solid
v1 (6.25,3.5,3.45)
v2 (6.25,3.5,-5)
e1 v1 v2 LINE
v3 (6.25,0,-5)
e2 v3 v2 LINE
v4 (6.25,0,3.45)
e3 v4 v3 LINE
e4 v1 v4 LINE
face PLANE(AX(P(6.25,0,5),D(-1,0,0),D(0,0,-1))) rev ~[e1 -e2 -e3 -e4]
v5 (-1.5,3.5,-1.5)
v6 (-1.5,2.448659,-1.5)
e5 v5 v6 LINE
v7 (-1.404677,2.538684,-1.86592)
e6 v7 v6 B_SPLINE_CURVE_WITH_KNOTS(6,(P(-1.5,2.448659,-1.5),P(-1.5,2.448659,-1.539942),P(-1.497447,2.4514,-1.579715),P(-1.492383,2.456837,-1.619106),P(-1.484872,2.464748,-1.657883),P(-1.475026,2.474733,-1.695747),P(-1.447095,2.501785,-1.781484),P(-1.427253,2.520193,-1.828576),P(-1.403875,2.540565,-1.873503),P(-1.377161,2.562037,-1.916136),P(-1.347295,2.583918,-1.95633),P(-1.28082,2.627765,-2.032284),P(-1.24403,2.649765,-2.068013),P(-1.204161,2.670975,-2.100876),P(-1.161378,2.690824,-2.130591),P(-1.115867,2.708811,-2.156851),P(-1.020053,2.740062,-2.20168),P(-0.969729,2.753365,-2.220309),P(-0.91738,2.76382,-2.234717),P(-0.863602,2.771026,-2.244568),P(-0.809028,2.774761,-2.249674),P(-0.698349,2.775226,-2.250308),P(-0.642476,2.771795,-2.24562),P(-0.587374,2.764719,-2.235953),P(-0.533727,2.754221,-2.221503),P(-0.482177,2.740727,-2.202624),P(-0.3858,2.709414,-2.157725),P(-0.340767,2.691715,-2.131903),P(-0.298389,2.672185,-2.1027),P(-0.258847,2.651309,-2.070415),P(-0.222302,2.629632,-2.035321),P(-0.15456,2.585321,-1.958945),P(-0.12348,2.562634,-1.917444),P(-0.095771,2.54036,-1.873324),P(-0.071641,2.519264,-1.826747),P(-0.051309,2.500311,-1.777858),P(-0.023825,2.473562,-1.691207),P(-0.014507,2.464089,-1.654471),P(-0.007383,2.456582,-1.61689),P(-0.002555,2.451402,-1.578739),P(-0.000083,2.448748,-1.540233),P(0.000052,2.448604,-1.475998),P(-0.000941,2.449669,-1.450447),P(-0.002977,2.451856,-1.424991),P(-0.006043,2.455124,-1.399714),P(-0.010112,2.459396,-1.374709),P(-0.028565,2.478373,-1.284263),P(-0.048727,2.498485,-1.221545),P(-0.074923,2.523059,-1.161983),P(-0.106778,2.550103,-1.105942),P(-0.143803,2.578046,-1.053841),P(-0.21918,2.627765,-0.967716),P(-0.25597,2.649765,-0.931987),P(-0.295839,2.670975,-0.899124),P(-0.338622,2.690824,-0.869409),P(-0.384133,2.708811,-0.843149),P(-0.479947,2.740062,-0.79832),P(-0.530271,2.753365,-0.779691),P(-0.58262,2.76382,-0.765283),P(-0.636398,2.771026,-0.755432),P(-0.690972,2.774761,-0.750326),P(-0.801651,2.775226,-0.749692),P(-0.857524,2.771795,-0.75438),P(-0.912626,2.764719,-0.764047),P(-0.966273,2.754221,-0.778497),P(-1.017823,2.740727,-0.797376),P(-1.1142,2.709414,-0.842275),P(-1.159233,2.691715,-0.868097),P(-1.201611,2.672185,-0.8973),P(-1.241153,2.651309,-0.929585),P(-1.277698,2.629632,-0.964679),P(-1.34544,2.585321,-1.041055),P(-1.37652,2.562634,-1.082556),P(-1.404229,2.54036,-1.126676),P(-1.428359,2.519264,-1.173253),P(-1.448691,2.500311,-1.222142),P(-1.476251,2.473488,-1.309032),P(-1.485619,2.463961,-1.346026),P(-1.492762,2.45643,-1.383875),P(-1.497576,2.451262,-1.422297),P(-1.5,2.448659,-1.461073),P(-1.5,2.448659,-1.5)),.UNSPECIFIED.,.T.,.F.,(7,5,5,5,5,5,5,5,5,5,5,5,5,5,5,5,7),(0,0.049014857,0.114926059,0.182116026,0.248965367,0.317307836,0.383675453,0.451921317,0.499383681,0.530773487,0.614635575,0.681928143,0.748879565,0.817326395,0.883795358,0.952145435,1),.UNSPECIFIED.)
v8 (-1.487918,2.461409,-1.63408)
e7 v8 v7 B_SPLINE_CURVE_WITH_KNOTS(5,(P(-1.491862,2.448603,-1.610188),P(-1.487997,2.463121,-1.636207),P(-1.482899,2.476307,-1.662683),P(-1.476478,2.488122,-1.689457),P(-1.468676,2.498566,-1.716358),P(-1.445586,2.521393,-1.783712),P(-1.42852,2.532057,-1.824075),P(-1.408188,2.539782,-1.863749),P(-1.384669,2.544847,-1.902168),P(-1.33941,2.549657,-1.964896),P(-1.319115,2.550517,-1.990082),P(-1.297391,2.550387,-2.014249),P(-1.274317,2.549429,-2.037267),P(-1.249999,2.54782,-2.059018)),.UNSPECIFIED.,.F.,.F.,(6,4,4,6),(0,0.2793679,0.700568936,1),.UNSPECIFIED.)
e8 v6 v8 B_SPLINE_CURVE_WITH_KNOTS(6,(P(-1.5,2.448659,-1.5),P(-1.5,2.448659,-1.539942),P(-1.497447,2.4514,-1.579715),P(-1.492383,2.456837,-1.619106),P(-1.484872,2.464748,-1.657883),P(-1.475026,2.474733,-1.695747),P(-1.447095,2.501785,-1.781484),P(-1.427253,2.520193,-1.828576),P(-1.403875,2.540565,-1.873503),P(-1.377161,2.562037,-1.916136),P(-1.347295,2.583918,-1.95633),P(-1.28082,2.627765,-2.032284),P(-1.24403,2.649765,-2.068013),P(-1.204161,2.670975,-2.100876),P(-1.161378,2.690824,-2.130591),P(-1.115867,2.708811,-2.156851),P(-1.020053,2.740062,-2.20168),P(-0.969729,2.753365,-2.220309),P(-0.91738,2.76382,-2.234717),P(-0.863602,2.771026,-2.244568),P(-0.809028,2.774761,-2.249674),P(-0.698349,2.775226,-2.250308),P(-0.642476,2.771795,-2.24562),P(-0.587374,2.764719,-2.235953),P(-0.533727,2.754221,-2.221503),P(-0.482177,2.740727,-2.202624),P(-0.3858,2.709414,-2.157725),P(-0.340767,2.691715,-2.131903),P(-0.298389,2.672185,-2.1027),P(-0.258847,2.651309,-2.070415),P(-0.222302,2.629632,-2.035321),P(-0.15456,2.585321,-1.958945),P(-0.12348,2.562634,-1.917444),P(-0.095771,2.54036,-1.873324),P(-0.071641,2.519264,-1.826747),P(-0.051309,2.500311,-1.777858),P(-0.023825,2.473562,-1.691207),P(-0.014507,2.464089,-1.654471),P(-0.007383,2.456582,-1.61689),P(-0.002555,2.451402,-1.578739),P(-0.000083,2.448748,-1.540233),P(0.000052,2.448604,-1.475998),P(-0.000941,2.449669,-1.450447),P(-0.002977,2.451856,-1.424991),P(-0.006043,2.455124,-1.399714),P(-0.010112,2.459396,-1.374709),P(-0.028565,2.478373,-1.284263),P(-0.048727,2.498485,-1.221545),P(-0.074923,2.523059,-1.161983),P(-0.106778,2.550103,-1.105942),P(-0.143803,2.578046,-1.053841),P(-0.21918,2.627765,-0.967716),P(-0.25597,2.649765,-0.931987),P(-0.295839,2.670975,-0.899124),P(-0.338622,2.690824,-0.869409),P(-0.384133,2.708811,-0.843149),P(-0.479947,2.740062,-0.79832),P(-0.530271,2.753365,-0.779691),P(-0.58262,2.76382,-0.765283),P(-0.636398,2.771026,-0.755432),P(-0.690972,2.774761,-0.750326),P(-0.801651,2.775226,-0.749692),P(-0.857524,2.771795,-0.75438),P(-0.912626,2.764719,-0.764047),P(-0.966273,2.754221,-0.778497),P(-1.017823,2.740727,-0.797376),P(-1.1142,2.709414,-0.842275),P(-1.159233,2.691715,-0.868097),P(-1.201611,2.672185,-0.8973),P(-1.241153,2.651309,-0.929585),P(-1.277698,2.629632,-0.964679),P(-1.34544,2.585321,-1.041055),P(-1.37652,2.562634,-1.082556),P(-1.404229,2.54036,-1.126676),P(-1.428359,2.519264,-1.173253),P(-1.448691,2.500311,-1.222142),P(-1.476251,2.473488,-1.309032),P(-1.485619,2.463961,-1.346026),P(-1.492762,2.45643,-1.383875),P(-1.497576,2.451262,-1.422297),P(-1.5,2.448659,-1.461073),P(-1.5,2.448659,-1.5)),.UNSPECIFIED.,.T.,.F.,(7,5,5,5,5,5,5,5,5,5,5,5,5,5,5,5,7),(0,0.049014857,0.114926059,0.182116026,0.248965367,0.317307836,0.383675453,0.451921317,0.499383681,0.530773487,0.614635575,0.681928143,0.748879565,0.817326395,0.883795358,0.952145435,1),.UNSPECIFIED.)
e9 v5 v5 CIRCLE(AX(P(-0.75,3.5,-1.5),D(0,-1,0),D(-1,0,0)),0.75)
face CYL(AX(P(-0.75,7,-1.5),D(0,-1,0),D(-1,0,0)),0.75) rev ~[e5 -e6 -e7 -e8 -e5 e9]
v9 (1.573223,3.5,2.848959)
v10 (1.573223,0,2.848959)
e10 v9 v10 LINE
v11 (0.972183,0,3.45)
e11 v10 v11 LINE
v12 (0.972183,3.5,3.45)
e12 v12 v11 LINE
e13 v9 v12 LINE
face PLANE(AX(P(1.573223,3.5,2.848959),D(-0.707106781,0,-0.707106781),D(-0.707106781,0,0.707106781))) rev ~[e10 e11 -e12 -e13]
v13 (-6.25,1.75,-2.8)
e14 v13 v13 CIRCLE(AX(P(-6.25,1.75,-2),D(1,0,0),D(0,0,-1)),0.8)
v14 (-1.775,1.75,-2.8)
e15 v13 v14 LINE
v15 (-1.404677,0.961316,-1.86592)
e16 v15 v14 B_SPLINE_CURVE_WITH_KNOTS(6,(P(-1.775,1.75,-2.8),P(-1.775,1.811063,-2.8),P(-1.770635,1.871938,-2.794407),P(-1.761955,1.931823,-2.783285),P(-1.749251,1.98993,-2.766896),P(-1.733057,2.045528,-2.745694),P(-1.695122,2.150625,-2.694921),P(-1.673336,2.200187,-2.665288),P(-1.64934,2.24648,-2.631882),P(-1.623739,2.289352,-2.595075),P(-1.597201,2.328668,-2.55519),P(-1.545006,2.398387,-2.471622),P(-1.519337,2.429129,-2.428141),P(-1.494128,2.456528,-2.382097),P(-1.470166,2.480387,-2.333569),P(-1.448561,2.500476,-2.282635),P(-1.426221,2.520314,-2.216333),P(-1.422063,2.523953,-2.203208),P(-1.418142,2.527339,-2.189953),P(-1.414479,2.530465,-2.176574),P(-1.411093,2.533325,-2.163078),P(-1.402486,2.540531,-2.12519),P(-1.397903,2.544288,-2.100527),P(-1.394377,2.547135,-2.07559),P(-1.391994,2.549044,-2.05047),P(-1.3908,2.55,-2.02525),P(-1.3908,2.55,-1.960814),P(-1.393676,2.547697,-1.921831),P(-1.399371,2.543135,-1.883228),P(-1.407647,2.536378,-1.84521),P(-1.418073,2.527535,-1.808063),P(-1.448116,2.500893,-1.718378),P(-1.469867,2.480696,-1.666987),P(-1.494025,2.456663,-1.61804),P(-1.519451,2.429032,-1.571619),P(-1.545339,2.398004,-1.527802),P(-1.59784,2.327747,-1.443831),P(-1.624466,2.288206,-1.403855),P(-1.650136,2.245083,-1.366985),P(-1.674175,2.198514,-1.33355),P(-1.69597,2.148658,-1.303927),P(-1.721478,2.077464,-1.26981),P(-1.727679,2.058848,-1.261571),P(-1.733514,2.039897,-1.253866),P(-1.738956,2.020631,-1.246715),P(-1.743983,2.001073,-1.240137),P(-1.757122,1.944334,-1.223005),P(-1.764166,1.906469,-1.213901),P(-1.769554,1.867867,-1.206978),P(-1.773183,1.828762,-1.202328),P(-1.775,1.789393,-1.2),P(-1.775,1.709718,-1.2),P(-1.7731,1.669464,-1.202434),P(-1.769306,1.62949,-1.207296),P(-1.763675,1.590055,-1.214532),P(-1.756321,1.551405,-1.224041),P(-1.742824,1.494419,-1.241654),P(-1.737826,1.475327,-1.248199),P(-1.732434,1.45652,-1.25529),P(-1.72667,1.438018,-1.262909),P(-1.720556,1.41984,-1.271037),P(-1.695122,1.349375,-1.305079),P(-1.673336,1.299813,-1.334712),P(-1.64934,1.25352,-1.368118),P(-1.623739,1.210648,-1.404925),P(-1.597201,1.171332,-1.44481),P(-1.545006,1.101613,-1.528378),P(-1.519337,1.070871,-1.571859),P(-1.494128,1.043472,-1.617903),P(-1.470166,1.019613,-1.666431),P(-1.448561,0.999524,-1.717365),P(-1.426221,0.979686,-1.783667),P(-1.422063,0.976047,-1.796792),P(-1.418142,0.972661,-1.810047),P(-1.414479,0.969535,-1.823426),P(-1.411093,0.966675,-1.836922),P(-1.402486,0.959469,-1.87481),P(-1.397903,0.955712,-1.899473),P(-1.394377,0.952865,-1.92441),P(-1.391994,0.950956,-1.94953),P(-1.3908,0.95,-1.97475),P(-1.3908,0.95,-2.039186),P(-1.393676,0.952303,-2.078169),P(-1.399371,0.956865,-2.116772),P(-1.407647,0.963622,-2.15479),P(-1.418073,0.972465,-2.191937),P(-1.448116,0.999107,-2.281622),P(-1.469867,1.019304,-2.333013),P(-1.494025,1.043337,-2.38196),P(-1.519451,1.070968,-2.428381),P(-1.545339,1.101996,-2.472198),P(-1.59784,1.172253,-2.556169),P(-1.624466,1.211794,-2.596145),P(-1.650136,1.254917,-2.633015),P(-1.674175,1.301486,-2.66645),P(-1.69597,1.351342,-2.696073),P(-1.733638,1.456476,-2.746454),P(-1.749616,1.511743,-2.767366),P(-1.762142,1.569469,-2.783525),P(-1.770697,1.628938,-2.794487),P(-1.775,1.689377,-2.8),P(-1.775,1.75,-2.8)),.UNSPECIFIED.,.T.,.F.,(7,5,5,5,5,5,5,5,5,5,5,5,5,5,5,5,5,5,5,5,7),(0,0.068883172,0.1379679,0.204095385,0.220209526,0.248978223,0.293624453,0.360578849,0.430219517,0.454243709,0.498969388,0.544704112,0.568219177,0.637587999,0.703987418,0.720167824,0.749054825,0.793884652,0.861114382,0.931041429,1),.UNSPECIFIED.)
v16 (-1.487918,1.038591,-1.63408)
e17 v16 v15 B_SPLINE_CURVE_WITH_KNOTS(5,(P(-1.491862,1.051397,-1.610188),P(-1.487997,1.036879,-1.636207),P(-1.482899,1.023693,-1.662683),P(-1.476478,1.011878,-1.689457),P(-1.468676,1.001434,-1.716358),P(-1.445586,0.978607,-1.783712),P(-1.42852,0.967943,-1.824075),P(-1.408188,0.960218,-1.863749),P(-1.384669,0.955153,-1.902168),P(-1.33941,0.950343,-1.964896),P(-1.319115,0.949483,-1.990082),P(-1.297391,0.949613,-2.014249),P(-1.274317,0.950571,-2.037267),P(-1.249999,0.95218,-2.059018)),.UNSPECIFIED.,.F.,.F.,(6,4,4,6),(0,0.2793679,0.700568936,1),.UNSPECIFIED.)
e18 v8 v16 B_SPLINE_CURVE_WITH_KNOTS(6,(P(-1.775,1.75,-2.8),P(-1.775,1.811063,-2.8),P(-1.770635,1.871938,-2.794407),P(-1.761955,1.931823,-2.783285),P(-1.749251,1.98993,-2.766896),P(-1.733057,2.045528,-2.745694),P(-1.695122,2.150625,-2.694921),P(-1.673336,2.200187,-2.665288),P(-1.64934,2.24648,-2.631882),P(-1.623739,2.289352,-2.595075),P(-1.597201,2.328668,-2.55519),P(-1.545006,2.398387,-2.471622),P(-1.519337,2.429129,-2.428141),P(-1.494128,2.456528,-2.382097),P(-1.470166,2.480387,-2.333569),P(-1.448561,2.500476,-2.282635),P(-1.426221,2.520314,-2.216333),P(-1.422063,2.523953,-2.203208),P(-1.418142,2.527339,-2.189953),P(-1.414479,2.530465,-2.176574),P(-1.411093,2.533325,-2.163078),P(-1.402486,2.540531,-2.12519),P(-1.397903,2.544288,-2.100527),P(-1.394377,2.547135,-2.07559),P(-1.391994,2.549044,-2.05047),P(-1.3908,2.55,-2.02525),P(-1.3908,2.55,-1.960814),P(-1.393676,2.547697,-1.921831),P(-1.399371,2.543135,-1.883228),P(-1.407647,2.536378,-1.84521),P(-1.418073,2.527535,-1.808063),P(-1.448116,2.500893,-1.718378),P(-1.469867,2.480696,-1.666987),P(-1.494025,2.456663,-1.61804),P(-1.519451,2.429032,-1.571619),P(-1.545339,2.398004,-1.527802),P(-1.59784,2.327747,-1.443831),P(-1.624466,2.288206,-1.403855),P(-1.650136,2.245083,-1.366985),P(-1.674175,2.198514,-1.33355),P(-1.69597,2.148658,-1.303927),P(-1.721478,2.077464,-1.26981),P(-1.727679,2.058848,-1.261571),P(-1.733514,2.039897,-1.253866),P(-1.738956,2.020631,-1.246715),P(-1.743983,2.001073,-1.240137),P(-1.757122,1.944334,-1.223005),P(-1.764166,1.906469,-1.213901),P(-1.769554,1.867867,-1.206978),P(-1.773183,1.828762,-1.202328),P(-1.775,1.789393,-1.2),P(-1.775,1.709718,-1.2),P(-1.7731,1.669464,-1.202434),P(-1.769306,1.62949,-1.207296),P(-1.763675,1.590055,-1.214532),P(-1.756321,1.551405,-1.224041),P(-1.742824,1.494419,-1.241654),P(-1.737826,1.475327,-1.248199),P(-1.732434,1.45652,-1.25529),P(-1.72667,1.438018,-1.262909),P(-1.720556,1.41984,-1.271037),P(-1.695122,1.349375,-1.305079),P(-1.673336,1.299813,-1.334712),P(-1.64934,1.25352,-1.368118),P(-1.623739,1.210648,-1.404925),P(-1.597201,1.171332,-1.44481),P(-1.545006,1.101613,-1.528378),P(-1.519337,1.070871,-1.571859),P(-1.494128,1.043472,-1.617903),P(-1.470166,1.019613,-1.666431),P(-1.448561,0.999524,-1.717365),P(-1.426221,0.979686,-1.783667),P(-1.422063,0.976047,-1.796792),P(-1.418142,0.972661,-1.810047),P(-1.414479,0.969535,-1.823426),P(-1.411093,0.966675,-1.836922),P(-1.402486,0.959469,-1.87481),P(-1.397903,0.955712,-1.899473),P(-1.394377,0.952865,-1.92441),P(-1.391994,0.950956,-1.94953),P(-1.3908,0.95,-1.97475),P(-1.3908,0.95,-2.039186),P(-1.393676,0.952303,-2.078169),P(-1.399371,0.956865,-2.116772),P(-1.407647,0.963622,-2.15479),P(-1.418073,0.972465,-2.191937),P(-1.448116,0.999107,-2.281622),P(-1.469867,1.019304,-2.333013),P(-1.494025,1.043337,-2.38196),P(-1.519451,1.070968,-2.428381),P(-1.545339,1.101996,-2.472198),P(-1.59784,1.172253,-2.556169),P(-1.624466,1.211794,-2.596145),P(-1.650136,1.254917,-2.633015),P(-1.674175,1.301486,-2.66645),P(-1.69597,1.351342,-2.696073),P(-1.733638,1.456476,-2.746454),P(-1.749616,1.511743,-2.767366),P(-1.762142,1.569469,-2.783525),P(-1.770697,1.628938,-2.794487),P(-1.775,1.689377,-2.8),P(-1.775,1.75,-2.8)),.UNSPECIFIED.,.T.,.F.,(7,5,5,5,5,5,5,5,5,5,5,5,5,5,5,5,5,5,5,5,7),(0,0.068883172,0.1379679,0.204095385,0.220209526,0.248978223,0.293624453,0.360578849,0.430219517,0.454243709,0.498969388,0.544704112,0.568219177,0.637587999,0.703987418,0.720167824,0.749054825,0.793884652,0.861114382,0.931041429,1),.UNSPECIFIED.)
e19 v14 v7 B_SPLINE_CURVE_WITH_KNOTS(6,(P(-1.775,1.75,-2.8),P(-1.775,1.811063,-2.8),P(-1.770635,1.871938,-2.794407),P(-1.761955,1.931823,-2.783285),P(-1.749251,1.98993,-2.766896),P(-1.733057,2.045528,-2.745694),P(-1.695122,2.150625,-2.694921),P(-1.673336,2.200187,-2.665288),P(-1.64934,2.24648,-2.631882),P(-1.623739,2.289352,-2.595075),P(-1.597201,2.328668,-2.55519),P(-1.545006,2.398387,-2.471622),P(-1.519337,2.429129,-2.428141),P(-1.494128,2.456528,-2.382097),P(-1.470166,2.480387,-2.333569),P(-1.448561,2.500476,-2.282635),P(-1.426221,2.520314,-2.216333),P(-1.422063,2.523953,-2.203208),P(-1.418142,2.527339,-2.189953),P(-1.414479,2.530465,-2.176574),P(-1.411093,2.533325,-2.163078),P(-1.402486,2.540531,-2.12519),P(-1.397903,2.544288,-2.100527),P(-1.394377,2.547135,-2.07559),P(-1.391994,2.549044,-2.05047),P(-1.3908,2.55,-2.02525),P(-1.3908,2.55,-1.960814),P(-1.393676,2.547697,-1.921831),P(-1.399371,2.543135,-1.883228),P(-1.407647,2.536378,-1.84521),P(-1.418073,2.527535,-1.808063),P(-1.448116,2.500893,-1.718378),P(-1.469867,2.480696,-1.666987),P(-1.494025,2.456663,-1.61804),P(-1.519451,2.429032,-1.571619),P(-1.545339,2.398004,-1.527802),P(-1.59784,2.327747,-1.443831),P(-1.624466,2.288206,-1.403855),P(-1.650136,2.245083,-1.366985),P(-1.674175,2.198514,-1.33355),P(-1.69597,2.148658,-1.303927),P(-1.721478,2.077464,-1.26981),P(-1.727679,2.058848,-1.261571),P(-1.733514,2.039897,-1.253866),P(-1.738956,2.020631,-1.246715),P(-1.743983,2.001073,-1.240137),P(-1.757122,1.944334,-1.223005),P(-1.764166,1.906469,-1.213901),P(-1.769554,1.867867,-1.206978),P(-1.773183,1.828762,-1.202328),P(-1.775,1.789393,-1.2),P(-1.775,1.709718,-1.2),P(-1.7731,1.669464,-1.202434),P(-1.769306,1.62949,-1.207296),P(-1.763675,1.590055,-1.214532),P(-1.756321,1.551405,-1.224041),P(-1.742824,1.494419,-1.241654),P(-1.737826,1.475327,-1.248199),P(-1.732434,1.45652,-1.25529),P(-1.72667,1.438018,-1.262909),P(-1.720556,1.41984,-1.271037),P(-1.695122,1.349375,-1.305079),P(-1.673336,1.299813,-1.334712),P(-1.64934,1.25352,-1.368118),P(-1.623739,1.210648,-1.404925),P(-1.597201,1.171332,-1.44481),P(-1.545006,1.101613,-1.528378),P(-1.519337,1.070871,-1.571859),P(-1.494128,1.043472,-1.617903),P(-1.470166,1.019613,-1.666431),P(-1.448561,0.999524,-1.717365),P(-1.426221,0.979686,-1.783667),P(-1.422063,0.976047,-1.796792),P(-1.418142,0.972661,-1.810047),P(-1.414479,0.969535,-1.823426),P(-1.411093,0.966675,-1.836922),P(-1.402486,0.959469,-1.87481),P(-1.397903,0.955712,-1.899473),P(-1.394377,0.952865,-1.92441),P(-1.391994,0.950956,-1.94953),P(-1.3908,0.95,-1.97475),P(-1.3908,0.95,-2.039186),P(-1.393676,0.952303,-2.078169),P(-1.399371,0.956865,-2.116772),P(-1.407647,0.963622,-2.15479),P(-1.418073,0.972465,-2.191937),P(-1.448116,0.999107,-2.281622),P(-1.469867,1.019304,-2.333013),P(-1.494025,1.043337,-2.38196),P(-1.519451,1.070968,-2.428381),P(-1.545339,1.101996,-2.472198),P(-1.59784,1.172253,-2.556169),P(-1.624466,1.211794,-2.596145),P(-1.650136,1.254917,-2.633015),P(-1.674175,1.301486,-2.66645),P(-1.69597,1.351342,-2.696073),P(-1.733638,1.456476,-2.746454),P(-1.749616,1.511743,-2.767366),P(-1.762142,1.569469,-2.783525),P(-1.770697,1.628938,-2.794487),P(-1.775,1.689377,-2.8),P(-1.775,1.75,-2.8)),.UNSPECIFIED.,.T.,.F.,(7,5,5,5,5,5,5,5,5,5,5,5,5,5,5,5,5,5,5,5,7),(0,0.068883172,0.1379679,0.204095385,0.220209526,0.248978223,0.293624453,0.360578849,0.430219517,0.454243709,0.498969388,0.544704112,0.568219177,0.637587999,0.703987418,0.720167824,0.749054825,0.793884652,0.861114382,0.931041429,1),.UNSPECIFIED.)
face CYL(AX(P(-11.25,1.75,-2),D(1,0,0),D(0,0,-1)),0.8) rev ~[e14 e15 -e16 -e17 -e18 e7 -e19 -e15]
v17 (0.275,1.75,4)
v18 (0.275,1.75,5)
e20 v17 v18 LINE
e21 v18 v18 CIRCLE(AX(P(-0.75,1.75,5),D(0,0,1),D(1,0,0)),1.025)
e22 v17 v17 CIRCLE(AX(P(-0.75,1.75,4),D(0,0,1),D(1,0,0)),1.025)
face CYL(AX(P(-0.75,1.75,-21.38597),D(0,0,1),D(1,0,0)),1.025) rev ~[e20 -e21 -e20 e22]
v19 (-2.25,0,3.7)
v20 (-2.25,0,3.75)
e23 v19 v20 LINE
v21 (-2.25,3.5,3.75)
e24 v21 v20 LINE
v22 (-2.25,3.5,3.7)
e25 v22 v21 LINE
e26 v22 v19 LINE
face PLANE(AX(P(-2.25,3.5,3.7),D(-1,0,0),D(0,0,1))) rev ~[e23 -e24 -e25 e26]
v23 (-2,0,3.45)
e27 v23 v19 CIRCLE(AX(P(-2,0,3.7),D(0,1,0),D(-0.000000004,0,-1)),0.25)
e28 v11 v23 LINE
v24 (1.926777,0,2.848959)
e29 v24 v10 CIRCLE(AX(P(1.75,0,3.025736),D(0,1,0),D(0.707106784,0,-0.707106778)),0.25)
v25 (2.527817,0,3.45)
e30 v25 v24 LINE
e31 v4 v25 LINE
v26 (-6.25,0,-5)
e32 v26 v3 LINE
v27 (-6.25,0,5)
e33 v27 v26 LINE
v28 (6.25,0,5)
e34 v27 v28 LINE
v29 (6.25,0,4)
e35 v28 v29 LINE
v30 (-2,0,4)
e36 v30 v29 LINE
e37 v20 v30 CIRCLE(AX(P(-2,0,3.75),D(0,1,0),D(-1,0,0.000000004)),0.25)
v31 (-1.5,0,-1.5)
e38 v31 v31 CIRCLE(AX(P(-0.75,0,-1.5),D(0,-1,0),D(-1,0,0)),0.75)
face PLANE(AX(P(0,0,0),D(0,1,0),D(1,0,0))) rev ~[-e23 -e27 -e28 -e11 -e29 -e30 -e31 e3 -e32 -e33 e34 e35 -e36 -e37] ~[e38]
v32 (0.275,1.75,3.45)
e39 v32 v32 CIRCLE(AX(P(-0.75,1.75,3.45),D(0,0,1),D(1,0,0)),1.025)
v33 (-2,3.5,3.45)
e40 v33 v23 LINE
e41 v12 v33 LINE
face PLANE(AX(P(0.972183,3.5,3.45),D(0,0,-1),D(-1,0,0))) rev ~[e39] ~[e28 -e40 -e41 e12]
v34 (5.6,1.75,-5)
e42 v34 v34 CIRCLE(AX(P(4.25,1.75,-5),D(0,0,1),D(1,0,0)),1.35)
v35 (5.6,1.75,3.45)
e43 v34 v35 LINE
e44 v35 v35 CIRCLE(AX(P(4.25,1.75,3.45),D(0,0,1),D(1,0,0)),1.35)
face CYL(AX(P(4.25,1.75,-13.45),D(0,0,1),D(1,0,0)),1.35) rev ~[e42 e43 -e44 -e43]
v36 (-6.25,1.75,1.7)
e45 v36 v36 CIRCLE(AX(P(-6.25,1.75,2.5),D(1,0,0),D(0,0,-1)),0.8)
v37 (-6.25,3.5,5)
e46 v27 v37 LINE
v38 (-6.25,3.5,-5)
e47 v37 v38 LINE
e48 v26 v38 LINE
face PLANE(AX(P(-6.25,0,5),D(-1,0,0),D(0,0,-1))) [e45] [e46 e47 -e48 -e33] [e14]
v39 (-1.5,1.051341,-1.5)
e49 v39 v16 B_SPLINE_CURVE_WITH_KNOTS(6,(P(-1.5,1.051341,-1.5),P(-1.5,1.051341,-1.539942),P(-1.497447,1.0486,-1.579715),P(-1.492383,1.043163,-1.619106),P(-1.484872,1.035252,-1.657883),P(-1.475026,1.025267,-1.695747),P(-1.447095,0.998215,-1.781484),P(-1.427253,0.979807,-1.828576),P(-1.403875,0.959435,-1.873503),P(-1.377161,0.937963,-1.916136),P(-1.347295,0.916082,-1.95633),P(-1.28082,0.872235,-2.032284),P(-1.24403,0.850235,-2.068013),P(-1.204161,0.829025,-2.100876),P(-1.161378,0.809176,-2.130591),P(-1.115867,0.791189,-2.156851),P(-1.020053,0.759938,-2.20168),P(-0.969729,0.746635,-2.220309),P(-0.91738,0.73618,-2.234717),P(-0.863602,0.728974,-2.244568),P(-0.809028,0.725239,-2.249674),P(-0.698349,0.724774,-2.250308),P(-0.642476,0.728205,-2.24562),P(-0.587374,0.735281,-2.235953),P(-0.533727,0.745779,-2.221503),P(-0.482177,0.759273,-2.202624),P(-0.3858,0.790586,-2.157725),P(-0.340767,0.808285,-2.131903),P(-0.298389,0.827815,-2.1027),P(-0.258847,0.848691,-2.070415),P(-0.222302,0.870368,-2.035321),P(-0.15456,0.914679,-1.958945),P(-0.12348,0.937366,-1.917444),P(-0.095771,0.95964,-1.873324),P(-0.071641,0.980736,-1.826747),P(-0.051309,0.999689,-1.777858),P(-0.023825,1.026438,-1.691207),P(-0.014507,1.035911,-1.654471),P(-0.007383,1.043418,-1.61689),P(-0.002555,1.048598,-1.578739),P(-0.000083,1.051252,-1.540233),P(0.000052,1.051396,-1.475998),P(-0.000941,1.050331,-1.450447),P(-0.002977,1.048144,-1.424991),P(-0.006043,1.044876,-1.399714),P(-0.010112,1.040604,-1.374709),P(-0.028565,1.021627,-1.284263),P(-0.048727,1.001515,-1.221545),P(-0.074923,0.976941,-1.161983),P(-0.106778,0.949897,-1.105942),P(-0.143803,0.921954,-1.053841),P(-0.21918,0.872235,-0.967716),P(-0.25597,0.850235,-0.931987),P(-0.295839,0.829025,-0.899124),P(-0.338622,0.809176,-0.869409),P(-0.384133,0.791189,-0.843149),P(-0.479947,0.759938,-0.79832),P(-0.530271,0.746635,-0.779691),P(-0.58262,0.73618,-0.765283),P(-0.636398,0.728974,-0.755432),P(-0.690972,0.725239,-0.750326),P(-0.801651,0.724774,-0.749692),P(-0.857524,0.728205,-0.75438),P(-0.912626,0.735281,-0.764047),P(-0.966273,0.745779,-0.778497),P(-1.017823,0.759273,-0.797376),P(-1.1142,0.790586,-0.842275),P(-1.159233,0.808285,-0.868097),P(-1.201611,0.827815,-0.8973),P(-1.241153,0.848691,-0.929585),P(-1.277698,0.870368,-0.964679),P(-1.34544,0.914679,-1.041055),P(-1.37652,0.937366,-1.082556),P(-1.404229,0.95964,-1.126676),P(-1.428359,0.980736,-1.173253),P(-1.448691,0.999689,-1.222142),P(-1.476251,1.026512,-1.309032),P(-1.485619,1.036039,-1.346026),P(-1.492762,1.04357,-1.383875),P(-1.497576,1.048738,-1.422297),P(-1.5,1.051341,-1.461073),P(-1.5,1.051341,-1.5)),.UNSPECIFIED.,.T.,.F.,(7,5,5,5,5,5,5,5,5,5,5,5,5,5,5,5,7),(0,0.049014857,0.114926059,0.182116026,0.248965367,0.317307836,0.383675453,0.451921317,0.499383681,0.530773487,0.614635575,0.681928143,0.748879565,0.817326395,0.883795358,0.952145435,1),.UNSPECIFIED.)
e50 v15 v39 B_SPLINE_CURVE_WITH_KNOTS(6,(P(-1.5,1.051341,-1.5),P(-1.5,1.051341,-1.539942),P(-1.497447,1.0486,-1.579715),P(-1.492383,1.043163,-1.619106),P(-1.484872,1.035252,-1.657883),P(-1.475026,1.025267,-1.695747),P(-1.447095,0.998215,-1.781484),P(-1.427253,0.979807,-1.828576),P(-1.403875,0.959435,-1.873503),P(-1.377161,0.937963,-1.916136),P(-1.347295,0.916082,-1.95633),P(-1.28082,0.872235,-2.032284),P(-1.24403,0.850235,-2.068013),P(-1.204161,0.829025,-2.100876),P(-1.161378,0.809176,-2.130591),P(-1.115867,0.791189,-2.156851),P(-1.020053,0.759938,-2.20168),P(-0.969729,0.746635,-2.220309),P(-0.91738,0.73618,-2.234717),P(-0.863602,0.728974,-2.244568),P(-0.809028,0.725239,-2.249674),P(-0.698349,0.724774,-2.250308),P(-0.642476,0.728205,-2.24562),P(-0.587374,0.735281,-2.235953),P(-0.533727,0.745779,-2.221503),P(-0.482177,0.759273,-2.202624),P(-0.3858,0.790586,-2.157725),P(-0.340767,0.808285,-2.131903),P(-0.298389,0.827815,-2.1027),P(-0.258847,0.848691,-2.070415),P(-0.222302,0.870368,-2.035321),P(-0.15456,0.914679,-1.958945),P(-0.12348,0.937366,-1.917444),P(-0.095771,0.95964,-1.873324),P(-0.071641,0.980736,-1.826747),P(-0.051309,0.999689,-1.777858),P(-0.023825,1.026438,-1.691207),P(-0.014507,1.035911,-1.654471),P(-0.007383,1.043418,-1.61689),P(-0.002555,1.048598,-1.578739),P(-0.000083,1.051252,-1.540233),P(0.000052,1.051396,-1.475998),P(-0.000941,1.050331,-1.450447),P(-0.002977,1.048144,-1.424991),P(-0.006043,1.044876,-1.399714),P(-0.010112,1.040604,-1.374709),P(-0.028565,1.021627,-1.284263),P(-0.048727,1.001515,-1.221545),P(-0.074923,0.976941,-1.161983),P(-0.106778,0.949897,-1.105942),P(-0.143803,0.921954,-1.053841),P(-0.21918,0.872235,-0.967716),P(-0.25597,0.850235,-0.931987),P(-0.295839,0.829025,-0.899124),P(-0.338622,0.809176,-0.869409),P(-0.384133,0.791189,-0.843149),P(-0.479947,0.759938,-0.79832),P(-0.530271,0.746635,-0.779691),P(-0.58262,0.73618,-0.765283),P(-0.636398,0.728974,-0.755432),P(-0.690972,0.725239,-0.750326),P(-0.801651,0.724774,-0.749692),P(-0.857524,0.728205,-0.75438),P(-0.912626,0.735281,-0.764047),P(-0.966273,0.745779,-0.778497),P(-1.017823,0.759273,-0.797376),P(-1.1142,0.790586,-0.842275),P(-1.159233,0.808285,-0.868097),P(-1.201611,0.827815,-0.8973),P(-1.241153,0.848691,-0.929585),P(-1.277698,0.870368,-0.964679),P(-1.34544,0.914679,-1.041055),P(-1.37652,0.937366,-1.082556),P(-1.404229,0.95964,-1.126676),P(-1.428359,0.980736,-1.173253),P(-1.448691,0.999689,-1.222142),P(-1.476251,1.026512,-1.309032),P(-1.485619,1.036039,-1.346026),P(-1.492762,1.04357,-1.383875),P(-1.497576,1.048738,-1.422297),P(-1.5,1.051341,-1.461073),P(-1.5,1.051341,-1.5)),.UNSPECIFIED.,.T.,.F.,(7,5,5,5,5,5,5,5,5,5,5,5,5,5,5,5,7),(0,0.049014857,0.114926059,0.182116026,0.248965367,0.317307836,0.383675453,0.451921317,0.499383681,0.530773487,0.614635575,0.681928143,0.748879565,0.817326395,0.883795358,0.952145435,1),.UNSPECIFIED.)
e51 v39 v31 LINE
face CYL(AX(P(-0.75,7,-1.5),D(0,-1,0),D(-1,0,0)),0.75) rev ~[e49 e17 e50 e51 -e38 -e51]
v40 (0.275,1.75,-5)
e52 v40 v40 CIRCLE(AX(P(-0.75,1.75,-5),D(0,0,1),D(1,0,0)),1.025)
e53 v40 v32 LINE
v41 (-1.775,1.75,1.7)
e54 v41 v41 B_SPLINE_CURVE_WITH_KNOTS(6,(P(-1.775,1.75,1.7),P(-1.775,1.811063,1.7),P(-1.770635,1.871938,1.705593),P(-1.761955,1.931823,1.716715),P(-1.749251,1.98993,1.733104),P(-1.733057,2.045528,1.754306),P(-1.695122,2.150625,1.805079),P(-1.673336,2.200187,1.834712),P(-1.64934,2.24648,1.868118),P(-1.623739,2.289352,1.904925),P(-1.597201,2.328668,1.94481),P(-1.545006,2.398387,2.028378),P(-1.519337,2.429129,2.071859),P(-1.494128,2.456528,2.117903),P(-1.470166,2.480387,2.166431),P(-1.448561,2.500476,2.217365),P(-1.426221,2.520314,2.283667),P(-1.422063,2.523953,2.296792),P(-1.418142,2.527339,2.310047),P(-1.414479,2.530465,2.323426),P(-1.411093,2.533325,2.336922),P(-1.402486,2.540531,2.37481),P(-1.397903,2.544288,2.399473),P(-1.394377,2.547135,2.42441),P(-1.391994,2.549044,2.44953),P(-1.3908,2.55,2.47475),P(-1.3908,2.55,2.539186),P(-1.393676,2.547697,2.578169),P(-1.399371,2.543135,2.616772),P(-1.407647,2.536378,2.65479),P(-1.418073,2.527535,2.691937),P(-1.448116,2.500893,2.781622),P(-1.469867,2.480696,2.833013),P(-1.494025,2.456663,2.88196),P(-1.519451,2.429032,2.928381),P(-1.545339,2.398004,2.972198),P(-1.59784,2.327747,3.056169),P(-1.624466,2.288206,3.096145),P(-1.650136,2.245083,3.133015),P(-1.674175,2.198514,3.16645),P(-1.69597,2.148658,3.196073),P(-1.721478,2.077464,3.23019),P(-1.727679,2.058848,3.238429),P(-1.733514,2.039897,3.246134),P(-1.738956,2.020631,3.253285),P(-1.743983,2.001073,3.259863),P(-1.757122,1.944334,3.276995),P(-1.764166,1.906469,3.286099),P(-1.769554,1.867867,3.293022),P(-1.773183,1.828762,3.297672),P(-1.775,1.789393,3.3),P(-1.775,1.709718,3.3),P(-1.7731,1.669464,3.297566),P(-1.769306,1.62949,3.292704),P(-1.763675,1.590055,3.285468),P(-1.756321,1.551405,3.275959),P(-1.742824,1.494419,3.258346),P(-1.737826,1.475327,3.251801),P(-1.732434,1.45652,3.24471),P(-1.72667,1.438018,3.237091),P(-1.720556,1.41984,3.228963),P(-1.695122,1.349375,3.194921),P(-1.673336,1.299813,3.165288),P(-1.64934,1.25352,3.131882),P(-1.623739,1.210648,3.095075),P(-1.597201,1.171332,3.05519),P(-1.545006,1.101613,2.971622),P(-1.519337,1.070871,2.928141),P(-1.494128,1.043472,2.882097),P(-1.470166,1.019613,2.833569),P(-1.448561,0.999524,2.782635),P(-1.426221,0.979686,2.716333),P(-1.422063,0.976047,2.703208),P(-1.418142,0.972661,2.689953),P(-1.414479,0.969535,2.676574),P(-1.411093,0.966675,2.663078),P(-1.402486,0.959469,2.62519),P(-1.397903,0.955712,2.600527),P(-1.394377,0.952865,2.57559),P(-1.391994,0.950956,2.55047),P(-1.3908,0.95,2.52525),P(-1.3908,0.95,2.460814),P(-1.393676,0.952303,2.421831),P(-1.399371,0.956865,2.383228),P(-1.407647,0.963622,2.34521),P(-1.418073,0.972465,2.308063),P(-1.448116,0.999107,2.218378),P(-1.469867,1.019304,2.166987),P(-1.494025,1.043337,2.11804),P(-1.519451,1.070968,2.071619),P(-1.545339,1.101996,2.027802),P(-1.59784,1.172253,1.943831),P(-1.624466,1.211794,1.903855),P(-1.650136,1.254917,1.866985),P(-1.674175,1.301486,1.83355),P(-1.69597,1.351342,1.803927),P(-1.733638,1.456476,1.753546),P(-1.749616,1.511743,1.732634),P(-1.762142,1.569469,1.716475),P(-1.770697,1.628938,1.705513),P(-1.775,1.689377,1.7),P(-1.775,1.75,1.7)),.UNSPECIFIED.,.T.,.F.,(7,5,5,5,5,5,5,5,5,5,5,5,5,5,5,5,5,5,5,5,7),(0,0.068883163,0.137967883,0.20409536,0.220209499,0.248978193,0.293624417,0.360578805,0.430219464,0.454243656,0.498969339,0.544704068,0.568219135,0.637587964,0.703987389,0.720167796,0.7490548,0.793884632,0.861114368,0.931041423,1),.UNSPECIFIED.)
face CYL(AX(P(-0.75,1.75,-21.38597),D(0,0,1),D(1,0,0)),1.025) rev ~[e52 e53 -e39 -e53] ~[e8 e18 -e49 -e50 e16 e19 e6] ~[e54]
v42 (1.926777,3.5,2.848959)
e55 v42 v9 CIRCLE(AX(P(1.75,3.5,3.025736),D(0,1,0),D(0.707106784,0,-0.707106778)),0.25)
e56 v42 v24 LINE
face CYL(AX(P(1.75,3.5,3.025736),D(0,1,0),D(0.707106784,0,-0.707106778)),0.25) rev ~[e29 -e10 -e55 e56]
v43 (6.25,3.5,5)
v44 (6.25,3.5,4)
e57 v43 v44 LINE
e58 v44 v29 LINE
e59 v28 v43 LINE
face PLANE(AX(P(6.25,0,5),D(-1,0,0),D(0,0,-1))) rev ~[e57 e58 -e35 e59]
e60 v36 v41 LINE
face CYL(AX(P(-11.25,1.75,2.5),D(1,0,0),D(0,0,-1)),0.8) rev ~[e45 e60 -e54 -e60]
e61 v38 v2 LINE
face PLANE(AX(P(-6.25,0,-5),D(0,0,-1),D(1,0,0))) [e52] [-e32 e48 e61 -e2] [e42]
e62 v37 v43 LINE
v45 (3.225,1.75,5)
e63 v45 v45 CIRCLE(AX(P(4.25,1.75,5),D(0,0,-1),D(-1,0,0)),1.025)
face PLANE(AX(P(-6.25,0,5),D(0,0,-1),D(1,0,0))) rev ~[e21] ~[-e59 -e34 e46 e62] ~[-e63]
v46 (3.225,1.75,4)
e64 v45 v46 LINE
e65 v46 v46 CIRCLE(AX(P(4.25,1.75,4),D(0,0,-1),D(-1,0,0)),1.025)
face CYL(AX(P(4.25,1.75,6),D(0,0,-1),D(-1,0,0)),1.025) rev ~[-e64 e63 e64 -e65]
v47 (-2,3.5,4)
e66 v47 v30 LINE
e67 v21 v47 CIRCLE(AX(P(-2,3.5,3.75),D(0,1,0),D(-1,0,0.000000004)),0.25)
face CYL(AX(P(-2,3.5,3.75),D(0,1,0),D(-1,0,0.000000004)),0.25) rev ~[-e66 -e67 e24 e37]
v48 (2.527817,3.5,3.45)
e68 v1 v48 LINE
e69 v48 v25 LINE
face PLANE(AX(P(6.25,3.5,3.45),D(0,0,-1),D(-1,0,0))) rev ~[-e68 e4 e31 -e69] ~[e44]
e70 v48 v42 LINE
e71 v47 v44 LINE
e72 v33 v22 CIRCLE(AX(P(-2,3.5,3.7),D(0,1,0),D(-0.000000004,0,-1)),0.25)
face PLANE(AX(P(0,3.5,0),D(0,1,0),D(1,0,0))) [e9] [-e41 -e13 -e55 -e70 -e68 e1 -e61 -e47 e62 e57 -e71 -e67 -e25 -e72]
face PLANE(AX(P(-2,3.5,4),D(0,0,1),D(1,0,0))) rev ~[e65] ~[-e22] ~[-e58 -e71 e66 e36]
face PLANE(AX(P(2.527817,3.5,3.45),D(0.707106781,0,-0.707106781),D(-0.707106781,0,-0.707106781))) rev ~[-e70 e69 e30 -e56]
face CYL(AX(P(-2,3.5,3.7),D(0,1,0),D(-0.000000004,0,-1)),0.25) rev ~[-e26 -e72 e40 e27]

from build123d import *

# Parameters (mm, degrees)
SKETCH1_W                      = 12.5
SKETCH1_H                      = 10
BOSS_EXTRUDE1_DEPTH            = 3.5
CUT_EXTRUDE1_DEPTH             = 3.5
M2_5_CLEARANCE_HOLE1_D         = 2.7
M2_5_CLEARANCE_HOLE1_DEPTH     = 8.45
M2_5_TAPPED_HOLE1_D            = 2.05
M2_5_TAPPED_HOLE1_DEPTH        = 1
F_1_5_1_5_DIAMETER_HOLE1_D     = 1.5
F_1_5_1_5_DIAMETER_HOLE1_DEPTH = 3.5
M2_5_TAPPED_HOLE2_D            = 2.05
M2_TAPPED_HOLE3_D              = 1.6
M2_TAPPED_HOLE3_DEPTH          = 5
M2_TAPPED_HOLE3_TIP            = 0.480688495


with BuildPart() as part:
    # Sketch1 → Boss-Extrude1 (new body)
    with BuildSketch(Plane(origin=(0, 0, 0), x_dir=(1, 0, 0), z_dir=(0, 1, 0))):
        Rectangle(SKETCH1_W, SKETCH1_H)
    extrude(amount=BOSS_EXTRUDE1_DEPTH)

    # Sketch2 → Cut-Extrude1 (cut)
    with BuildSketch(Plane(origin=(0, 3.5, 0), x_dir=(1, 0, 0), z_dir=(0, 1, 0))):
        with BuildLine():
            Line((2.527817459, -3.45), (1.926776695, -2.848959236))
            ThreePointArc((1.926776695, -2.848959236), (1.75, -2.775735931), (1.573223305, -2.848959236))
            Line((1.573223305, -2.848959236), (0.972182541, -3.45))
            Line((0.972182541, -3.45), (-2, -3.45))
            ThreePointArc((-2, -3.45), (-2.176776695, -3.523223305), (-2.25, -3.7))
            Line((-2.25, -3.7), (-2.25, -3.75))
            ThreePointArc((-2.25, -3.75), (-2.176776695, -3.926776695), (-2, -4))
            Line((-2, -4), (6.25, -4))
            Line((6.25, -4), (6.25, -3.45))
            Line((6.25, -3.45), (2.527817459, -3.45))
        make_face()
    extrude(amount=-CUT_EXTRUDE1_DEPTH, mode=Mode.SUBTRACT)

    # M2.5 Clearance Hole1
    with Locations(Plane(origin=(0, 0, -5), x_dir=(-1, 0, 0), z_dir=(0, 0, -1))):
        with Locations((-4.25, 1.75)):
            Hole(M2_5_CLEARANCE_HOLE1_D / 2, depth=M2_5_CLEARANCE_HOLE1_DEPTH)

    # M2.5 Tapped Hole1
    with Locations(Plane.XY.offset(5)):
        with Locations((4.25, 1.75)):
            Hole(M2_5_TAPPED_HOLE1_D / 2, depth=M2_5_TAPPED_HOLE1_DEPTH)

    # Ø1.5 (1.5) Diameter Hole1
    with Locations(Plane(origin=(0, 3.5, 0), x_dir=(1, 0, 0), z_dir=(0, 1, 0))):
        with Locations((-0.75, 1.5)):
            Hole(F_1_5_1_5_DIAMETER_HOLE1_D / 2, depth=F_1_5_1_5_DIAMETER_HOLE1_DEPTH)

    # M2.5 Tapped Hole2 (through all)
    with Locations(Plane(origin=(0, 0, -5), x_dir=(-1, 0, 0), z_dir=(0, 0, -1))):
        with Locations((0.75, 1.75)):
            Hole(M2_5_TAPPED_HOLE2_D / 2)

    # M2 Tapped Hole3
    with Locations(Plane.ZY.offset(6.25)):
        with Locations((-2, 1.75), (2.5, 1.75)):
            Hole(M2_TAPPED_HOLE3_D / 2, depth=M2_TAPPED_HOLE3_DEPTH)
            with Locations((0, 0, -(M2_TAPPED_HOLE3_DEPTH + M2_TAPPED_HOLE3_TIP / 2))):  # 118° drill point
                Cone(0, M2_TAPPED_HOLE3_D / 2, M2_TAPPED_HOLE3_TIP, mode=Mode.SUBTRACT)


solid = part.part
